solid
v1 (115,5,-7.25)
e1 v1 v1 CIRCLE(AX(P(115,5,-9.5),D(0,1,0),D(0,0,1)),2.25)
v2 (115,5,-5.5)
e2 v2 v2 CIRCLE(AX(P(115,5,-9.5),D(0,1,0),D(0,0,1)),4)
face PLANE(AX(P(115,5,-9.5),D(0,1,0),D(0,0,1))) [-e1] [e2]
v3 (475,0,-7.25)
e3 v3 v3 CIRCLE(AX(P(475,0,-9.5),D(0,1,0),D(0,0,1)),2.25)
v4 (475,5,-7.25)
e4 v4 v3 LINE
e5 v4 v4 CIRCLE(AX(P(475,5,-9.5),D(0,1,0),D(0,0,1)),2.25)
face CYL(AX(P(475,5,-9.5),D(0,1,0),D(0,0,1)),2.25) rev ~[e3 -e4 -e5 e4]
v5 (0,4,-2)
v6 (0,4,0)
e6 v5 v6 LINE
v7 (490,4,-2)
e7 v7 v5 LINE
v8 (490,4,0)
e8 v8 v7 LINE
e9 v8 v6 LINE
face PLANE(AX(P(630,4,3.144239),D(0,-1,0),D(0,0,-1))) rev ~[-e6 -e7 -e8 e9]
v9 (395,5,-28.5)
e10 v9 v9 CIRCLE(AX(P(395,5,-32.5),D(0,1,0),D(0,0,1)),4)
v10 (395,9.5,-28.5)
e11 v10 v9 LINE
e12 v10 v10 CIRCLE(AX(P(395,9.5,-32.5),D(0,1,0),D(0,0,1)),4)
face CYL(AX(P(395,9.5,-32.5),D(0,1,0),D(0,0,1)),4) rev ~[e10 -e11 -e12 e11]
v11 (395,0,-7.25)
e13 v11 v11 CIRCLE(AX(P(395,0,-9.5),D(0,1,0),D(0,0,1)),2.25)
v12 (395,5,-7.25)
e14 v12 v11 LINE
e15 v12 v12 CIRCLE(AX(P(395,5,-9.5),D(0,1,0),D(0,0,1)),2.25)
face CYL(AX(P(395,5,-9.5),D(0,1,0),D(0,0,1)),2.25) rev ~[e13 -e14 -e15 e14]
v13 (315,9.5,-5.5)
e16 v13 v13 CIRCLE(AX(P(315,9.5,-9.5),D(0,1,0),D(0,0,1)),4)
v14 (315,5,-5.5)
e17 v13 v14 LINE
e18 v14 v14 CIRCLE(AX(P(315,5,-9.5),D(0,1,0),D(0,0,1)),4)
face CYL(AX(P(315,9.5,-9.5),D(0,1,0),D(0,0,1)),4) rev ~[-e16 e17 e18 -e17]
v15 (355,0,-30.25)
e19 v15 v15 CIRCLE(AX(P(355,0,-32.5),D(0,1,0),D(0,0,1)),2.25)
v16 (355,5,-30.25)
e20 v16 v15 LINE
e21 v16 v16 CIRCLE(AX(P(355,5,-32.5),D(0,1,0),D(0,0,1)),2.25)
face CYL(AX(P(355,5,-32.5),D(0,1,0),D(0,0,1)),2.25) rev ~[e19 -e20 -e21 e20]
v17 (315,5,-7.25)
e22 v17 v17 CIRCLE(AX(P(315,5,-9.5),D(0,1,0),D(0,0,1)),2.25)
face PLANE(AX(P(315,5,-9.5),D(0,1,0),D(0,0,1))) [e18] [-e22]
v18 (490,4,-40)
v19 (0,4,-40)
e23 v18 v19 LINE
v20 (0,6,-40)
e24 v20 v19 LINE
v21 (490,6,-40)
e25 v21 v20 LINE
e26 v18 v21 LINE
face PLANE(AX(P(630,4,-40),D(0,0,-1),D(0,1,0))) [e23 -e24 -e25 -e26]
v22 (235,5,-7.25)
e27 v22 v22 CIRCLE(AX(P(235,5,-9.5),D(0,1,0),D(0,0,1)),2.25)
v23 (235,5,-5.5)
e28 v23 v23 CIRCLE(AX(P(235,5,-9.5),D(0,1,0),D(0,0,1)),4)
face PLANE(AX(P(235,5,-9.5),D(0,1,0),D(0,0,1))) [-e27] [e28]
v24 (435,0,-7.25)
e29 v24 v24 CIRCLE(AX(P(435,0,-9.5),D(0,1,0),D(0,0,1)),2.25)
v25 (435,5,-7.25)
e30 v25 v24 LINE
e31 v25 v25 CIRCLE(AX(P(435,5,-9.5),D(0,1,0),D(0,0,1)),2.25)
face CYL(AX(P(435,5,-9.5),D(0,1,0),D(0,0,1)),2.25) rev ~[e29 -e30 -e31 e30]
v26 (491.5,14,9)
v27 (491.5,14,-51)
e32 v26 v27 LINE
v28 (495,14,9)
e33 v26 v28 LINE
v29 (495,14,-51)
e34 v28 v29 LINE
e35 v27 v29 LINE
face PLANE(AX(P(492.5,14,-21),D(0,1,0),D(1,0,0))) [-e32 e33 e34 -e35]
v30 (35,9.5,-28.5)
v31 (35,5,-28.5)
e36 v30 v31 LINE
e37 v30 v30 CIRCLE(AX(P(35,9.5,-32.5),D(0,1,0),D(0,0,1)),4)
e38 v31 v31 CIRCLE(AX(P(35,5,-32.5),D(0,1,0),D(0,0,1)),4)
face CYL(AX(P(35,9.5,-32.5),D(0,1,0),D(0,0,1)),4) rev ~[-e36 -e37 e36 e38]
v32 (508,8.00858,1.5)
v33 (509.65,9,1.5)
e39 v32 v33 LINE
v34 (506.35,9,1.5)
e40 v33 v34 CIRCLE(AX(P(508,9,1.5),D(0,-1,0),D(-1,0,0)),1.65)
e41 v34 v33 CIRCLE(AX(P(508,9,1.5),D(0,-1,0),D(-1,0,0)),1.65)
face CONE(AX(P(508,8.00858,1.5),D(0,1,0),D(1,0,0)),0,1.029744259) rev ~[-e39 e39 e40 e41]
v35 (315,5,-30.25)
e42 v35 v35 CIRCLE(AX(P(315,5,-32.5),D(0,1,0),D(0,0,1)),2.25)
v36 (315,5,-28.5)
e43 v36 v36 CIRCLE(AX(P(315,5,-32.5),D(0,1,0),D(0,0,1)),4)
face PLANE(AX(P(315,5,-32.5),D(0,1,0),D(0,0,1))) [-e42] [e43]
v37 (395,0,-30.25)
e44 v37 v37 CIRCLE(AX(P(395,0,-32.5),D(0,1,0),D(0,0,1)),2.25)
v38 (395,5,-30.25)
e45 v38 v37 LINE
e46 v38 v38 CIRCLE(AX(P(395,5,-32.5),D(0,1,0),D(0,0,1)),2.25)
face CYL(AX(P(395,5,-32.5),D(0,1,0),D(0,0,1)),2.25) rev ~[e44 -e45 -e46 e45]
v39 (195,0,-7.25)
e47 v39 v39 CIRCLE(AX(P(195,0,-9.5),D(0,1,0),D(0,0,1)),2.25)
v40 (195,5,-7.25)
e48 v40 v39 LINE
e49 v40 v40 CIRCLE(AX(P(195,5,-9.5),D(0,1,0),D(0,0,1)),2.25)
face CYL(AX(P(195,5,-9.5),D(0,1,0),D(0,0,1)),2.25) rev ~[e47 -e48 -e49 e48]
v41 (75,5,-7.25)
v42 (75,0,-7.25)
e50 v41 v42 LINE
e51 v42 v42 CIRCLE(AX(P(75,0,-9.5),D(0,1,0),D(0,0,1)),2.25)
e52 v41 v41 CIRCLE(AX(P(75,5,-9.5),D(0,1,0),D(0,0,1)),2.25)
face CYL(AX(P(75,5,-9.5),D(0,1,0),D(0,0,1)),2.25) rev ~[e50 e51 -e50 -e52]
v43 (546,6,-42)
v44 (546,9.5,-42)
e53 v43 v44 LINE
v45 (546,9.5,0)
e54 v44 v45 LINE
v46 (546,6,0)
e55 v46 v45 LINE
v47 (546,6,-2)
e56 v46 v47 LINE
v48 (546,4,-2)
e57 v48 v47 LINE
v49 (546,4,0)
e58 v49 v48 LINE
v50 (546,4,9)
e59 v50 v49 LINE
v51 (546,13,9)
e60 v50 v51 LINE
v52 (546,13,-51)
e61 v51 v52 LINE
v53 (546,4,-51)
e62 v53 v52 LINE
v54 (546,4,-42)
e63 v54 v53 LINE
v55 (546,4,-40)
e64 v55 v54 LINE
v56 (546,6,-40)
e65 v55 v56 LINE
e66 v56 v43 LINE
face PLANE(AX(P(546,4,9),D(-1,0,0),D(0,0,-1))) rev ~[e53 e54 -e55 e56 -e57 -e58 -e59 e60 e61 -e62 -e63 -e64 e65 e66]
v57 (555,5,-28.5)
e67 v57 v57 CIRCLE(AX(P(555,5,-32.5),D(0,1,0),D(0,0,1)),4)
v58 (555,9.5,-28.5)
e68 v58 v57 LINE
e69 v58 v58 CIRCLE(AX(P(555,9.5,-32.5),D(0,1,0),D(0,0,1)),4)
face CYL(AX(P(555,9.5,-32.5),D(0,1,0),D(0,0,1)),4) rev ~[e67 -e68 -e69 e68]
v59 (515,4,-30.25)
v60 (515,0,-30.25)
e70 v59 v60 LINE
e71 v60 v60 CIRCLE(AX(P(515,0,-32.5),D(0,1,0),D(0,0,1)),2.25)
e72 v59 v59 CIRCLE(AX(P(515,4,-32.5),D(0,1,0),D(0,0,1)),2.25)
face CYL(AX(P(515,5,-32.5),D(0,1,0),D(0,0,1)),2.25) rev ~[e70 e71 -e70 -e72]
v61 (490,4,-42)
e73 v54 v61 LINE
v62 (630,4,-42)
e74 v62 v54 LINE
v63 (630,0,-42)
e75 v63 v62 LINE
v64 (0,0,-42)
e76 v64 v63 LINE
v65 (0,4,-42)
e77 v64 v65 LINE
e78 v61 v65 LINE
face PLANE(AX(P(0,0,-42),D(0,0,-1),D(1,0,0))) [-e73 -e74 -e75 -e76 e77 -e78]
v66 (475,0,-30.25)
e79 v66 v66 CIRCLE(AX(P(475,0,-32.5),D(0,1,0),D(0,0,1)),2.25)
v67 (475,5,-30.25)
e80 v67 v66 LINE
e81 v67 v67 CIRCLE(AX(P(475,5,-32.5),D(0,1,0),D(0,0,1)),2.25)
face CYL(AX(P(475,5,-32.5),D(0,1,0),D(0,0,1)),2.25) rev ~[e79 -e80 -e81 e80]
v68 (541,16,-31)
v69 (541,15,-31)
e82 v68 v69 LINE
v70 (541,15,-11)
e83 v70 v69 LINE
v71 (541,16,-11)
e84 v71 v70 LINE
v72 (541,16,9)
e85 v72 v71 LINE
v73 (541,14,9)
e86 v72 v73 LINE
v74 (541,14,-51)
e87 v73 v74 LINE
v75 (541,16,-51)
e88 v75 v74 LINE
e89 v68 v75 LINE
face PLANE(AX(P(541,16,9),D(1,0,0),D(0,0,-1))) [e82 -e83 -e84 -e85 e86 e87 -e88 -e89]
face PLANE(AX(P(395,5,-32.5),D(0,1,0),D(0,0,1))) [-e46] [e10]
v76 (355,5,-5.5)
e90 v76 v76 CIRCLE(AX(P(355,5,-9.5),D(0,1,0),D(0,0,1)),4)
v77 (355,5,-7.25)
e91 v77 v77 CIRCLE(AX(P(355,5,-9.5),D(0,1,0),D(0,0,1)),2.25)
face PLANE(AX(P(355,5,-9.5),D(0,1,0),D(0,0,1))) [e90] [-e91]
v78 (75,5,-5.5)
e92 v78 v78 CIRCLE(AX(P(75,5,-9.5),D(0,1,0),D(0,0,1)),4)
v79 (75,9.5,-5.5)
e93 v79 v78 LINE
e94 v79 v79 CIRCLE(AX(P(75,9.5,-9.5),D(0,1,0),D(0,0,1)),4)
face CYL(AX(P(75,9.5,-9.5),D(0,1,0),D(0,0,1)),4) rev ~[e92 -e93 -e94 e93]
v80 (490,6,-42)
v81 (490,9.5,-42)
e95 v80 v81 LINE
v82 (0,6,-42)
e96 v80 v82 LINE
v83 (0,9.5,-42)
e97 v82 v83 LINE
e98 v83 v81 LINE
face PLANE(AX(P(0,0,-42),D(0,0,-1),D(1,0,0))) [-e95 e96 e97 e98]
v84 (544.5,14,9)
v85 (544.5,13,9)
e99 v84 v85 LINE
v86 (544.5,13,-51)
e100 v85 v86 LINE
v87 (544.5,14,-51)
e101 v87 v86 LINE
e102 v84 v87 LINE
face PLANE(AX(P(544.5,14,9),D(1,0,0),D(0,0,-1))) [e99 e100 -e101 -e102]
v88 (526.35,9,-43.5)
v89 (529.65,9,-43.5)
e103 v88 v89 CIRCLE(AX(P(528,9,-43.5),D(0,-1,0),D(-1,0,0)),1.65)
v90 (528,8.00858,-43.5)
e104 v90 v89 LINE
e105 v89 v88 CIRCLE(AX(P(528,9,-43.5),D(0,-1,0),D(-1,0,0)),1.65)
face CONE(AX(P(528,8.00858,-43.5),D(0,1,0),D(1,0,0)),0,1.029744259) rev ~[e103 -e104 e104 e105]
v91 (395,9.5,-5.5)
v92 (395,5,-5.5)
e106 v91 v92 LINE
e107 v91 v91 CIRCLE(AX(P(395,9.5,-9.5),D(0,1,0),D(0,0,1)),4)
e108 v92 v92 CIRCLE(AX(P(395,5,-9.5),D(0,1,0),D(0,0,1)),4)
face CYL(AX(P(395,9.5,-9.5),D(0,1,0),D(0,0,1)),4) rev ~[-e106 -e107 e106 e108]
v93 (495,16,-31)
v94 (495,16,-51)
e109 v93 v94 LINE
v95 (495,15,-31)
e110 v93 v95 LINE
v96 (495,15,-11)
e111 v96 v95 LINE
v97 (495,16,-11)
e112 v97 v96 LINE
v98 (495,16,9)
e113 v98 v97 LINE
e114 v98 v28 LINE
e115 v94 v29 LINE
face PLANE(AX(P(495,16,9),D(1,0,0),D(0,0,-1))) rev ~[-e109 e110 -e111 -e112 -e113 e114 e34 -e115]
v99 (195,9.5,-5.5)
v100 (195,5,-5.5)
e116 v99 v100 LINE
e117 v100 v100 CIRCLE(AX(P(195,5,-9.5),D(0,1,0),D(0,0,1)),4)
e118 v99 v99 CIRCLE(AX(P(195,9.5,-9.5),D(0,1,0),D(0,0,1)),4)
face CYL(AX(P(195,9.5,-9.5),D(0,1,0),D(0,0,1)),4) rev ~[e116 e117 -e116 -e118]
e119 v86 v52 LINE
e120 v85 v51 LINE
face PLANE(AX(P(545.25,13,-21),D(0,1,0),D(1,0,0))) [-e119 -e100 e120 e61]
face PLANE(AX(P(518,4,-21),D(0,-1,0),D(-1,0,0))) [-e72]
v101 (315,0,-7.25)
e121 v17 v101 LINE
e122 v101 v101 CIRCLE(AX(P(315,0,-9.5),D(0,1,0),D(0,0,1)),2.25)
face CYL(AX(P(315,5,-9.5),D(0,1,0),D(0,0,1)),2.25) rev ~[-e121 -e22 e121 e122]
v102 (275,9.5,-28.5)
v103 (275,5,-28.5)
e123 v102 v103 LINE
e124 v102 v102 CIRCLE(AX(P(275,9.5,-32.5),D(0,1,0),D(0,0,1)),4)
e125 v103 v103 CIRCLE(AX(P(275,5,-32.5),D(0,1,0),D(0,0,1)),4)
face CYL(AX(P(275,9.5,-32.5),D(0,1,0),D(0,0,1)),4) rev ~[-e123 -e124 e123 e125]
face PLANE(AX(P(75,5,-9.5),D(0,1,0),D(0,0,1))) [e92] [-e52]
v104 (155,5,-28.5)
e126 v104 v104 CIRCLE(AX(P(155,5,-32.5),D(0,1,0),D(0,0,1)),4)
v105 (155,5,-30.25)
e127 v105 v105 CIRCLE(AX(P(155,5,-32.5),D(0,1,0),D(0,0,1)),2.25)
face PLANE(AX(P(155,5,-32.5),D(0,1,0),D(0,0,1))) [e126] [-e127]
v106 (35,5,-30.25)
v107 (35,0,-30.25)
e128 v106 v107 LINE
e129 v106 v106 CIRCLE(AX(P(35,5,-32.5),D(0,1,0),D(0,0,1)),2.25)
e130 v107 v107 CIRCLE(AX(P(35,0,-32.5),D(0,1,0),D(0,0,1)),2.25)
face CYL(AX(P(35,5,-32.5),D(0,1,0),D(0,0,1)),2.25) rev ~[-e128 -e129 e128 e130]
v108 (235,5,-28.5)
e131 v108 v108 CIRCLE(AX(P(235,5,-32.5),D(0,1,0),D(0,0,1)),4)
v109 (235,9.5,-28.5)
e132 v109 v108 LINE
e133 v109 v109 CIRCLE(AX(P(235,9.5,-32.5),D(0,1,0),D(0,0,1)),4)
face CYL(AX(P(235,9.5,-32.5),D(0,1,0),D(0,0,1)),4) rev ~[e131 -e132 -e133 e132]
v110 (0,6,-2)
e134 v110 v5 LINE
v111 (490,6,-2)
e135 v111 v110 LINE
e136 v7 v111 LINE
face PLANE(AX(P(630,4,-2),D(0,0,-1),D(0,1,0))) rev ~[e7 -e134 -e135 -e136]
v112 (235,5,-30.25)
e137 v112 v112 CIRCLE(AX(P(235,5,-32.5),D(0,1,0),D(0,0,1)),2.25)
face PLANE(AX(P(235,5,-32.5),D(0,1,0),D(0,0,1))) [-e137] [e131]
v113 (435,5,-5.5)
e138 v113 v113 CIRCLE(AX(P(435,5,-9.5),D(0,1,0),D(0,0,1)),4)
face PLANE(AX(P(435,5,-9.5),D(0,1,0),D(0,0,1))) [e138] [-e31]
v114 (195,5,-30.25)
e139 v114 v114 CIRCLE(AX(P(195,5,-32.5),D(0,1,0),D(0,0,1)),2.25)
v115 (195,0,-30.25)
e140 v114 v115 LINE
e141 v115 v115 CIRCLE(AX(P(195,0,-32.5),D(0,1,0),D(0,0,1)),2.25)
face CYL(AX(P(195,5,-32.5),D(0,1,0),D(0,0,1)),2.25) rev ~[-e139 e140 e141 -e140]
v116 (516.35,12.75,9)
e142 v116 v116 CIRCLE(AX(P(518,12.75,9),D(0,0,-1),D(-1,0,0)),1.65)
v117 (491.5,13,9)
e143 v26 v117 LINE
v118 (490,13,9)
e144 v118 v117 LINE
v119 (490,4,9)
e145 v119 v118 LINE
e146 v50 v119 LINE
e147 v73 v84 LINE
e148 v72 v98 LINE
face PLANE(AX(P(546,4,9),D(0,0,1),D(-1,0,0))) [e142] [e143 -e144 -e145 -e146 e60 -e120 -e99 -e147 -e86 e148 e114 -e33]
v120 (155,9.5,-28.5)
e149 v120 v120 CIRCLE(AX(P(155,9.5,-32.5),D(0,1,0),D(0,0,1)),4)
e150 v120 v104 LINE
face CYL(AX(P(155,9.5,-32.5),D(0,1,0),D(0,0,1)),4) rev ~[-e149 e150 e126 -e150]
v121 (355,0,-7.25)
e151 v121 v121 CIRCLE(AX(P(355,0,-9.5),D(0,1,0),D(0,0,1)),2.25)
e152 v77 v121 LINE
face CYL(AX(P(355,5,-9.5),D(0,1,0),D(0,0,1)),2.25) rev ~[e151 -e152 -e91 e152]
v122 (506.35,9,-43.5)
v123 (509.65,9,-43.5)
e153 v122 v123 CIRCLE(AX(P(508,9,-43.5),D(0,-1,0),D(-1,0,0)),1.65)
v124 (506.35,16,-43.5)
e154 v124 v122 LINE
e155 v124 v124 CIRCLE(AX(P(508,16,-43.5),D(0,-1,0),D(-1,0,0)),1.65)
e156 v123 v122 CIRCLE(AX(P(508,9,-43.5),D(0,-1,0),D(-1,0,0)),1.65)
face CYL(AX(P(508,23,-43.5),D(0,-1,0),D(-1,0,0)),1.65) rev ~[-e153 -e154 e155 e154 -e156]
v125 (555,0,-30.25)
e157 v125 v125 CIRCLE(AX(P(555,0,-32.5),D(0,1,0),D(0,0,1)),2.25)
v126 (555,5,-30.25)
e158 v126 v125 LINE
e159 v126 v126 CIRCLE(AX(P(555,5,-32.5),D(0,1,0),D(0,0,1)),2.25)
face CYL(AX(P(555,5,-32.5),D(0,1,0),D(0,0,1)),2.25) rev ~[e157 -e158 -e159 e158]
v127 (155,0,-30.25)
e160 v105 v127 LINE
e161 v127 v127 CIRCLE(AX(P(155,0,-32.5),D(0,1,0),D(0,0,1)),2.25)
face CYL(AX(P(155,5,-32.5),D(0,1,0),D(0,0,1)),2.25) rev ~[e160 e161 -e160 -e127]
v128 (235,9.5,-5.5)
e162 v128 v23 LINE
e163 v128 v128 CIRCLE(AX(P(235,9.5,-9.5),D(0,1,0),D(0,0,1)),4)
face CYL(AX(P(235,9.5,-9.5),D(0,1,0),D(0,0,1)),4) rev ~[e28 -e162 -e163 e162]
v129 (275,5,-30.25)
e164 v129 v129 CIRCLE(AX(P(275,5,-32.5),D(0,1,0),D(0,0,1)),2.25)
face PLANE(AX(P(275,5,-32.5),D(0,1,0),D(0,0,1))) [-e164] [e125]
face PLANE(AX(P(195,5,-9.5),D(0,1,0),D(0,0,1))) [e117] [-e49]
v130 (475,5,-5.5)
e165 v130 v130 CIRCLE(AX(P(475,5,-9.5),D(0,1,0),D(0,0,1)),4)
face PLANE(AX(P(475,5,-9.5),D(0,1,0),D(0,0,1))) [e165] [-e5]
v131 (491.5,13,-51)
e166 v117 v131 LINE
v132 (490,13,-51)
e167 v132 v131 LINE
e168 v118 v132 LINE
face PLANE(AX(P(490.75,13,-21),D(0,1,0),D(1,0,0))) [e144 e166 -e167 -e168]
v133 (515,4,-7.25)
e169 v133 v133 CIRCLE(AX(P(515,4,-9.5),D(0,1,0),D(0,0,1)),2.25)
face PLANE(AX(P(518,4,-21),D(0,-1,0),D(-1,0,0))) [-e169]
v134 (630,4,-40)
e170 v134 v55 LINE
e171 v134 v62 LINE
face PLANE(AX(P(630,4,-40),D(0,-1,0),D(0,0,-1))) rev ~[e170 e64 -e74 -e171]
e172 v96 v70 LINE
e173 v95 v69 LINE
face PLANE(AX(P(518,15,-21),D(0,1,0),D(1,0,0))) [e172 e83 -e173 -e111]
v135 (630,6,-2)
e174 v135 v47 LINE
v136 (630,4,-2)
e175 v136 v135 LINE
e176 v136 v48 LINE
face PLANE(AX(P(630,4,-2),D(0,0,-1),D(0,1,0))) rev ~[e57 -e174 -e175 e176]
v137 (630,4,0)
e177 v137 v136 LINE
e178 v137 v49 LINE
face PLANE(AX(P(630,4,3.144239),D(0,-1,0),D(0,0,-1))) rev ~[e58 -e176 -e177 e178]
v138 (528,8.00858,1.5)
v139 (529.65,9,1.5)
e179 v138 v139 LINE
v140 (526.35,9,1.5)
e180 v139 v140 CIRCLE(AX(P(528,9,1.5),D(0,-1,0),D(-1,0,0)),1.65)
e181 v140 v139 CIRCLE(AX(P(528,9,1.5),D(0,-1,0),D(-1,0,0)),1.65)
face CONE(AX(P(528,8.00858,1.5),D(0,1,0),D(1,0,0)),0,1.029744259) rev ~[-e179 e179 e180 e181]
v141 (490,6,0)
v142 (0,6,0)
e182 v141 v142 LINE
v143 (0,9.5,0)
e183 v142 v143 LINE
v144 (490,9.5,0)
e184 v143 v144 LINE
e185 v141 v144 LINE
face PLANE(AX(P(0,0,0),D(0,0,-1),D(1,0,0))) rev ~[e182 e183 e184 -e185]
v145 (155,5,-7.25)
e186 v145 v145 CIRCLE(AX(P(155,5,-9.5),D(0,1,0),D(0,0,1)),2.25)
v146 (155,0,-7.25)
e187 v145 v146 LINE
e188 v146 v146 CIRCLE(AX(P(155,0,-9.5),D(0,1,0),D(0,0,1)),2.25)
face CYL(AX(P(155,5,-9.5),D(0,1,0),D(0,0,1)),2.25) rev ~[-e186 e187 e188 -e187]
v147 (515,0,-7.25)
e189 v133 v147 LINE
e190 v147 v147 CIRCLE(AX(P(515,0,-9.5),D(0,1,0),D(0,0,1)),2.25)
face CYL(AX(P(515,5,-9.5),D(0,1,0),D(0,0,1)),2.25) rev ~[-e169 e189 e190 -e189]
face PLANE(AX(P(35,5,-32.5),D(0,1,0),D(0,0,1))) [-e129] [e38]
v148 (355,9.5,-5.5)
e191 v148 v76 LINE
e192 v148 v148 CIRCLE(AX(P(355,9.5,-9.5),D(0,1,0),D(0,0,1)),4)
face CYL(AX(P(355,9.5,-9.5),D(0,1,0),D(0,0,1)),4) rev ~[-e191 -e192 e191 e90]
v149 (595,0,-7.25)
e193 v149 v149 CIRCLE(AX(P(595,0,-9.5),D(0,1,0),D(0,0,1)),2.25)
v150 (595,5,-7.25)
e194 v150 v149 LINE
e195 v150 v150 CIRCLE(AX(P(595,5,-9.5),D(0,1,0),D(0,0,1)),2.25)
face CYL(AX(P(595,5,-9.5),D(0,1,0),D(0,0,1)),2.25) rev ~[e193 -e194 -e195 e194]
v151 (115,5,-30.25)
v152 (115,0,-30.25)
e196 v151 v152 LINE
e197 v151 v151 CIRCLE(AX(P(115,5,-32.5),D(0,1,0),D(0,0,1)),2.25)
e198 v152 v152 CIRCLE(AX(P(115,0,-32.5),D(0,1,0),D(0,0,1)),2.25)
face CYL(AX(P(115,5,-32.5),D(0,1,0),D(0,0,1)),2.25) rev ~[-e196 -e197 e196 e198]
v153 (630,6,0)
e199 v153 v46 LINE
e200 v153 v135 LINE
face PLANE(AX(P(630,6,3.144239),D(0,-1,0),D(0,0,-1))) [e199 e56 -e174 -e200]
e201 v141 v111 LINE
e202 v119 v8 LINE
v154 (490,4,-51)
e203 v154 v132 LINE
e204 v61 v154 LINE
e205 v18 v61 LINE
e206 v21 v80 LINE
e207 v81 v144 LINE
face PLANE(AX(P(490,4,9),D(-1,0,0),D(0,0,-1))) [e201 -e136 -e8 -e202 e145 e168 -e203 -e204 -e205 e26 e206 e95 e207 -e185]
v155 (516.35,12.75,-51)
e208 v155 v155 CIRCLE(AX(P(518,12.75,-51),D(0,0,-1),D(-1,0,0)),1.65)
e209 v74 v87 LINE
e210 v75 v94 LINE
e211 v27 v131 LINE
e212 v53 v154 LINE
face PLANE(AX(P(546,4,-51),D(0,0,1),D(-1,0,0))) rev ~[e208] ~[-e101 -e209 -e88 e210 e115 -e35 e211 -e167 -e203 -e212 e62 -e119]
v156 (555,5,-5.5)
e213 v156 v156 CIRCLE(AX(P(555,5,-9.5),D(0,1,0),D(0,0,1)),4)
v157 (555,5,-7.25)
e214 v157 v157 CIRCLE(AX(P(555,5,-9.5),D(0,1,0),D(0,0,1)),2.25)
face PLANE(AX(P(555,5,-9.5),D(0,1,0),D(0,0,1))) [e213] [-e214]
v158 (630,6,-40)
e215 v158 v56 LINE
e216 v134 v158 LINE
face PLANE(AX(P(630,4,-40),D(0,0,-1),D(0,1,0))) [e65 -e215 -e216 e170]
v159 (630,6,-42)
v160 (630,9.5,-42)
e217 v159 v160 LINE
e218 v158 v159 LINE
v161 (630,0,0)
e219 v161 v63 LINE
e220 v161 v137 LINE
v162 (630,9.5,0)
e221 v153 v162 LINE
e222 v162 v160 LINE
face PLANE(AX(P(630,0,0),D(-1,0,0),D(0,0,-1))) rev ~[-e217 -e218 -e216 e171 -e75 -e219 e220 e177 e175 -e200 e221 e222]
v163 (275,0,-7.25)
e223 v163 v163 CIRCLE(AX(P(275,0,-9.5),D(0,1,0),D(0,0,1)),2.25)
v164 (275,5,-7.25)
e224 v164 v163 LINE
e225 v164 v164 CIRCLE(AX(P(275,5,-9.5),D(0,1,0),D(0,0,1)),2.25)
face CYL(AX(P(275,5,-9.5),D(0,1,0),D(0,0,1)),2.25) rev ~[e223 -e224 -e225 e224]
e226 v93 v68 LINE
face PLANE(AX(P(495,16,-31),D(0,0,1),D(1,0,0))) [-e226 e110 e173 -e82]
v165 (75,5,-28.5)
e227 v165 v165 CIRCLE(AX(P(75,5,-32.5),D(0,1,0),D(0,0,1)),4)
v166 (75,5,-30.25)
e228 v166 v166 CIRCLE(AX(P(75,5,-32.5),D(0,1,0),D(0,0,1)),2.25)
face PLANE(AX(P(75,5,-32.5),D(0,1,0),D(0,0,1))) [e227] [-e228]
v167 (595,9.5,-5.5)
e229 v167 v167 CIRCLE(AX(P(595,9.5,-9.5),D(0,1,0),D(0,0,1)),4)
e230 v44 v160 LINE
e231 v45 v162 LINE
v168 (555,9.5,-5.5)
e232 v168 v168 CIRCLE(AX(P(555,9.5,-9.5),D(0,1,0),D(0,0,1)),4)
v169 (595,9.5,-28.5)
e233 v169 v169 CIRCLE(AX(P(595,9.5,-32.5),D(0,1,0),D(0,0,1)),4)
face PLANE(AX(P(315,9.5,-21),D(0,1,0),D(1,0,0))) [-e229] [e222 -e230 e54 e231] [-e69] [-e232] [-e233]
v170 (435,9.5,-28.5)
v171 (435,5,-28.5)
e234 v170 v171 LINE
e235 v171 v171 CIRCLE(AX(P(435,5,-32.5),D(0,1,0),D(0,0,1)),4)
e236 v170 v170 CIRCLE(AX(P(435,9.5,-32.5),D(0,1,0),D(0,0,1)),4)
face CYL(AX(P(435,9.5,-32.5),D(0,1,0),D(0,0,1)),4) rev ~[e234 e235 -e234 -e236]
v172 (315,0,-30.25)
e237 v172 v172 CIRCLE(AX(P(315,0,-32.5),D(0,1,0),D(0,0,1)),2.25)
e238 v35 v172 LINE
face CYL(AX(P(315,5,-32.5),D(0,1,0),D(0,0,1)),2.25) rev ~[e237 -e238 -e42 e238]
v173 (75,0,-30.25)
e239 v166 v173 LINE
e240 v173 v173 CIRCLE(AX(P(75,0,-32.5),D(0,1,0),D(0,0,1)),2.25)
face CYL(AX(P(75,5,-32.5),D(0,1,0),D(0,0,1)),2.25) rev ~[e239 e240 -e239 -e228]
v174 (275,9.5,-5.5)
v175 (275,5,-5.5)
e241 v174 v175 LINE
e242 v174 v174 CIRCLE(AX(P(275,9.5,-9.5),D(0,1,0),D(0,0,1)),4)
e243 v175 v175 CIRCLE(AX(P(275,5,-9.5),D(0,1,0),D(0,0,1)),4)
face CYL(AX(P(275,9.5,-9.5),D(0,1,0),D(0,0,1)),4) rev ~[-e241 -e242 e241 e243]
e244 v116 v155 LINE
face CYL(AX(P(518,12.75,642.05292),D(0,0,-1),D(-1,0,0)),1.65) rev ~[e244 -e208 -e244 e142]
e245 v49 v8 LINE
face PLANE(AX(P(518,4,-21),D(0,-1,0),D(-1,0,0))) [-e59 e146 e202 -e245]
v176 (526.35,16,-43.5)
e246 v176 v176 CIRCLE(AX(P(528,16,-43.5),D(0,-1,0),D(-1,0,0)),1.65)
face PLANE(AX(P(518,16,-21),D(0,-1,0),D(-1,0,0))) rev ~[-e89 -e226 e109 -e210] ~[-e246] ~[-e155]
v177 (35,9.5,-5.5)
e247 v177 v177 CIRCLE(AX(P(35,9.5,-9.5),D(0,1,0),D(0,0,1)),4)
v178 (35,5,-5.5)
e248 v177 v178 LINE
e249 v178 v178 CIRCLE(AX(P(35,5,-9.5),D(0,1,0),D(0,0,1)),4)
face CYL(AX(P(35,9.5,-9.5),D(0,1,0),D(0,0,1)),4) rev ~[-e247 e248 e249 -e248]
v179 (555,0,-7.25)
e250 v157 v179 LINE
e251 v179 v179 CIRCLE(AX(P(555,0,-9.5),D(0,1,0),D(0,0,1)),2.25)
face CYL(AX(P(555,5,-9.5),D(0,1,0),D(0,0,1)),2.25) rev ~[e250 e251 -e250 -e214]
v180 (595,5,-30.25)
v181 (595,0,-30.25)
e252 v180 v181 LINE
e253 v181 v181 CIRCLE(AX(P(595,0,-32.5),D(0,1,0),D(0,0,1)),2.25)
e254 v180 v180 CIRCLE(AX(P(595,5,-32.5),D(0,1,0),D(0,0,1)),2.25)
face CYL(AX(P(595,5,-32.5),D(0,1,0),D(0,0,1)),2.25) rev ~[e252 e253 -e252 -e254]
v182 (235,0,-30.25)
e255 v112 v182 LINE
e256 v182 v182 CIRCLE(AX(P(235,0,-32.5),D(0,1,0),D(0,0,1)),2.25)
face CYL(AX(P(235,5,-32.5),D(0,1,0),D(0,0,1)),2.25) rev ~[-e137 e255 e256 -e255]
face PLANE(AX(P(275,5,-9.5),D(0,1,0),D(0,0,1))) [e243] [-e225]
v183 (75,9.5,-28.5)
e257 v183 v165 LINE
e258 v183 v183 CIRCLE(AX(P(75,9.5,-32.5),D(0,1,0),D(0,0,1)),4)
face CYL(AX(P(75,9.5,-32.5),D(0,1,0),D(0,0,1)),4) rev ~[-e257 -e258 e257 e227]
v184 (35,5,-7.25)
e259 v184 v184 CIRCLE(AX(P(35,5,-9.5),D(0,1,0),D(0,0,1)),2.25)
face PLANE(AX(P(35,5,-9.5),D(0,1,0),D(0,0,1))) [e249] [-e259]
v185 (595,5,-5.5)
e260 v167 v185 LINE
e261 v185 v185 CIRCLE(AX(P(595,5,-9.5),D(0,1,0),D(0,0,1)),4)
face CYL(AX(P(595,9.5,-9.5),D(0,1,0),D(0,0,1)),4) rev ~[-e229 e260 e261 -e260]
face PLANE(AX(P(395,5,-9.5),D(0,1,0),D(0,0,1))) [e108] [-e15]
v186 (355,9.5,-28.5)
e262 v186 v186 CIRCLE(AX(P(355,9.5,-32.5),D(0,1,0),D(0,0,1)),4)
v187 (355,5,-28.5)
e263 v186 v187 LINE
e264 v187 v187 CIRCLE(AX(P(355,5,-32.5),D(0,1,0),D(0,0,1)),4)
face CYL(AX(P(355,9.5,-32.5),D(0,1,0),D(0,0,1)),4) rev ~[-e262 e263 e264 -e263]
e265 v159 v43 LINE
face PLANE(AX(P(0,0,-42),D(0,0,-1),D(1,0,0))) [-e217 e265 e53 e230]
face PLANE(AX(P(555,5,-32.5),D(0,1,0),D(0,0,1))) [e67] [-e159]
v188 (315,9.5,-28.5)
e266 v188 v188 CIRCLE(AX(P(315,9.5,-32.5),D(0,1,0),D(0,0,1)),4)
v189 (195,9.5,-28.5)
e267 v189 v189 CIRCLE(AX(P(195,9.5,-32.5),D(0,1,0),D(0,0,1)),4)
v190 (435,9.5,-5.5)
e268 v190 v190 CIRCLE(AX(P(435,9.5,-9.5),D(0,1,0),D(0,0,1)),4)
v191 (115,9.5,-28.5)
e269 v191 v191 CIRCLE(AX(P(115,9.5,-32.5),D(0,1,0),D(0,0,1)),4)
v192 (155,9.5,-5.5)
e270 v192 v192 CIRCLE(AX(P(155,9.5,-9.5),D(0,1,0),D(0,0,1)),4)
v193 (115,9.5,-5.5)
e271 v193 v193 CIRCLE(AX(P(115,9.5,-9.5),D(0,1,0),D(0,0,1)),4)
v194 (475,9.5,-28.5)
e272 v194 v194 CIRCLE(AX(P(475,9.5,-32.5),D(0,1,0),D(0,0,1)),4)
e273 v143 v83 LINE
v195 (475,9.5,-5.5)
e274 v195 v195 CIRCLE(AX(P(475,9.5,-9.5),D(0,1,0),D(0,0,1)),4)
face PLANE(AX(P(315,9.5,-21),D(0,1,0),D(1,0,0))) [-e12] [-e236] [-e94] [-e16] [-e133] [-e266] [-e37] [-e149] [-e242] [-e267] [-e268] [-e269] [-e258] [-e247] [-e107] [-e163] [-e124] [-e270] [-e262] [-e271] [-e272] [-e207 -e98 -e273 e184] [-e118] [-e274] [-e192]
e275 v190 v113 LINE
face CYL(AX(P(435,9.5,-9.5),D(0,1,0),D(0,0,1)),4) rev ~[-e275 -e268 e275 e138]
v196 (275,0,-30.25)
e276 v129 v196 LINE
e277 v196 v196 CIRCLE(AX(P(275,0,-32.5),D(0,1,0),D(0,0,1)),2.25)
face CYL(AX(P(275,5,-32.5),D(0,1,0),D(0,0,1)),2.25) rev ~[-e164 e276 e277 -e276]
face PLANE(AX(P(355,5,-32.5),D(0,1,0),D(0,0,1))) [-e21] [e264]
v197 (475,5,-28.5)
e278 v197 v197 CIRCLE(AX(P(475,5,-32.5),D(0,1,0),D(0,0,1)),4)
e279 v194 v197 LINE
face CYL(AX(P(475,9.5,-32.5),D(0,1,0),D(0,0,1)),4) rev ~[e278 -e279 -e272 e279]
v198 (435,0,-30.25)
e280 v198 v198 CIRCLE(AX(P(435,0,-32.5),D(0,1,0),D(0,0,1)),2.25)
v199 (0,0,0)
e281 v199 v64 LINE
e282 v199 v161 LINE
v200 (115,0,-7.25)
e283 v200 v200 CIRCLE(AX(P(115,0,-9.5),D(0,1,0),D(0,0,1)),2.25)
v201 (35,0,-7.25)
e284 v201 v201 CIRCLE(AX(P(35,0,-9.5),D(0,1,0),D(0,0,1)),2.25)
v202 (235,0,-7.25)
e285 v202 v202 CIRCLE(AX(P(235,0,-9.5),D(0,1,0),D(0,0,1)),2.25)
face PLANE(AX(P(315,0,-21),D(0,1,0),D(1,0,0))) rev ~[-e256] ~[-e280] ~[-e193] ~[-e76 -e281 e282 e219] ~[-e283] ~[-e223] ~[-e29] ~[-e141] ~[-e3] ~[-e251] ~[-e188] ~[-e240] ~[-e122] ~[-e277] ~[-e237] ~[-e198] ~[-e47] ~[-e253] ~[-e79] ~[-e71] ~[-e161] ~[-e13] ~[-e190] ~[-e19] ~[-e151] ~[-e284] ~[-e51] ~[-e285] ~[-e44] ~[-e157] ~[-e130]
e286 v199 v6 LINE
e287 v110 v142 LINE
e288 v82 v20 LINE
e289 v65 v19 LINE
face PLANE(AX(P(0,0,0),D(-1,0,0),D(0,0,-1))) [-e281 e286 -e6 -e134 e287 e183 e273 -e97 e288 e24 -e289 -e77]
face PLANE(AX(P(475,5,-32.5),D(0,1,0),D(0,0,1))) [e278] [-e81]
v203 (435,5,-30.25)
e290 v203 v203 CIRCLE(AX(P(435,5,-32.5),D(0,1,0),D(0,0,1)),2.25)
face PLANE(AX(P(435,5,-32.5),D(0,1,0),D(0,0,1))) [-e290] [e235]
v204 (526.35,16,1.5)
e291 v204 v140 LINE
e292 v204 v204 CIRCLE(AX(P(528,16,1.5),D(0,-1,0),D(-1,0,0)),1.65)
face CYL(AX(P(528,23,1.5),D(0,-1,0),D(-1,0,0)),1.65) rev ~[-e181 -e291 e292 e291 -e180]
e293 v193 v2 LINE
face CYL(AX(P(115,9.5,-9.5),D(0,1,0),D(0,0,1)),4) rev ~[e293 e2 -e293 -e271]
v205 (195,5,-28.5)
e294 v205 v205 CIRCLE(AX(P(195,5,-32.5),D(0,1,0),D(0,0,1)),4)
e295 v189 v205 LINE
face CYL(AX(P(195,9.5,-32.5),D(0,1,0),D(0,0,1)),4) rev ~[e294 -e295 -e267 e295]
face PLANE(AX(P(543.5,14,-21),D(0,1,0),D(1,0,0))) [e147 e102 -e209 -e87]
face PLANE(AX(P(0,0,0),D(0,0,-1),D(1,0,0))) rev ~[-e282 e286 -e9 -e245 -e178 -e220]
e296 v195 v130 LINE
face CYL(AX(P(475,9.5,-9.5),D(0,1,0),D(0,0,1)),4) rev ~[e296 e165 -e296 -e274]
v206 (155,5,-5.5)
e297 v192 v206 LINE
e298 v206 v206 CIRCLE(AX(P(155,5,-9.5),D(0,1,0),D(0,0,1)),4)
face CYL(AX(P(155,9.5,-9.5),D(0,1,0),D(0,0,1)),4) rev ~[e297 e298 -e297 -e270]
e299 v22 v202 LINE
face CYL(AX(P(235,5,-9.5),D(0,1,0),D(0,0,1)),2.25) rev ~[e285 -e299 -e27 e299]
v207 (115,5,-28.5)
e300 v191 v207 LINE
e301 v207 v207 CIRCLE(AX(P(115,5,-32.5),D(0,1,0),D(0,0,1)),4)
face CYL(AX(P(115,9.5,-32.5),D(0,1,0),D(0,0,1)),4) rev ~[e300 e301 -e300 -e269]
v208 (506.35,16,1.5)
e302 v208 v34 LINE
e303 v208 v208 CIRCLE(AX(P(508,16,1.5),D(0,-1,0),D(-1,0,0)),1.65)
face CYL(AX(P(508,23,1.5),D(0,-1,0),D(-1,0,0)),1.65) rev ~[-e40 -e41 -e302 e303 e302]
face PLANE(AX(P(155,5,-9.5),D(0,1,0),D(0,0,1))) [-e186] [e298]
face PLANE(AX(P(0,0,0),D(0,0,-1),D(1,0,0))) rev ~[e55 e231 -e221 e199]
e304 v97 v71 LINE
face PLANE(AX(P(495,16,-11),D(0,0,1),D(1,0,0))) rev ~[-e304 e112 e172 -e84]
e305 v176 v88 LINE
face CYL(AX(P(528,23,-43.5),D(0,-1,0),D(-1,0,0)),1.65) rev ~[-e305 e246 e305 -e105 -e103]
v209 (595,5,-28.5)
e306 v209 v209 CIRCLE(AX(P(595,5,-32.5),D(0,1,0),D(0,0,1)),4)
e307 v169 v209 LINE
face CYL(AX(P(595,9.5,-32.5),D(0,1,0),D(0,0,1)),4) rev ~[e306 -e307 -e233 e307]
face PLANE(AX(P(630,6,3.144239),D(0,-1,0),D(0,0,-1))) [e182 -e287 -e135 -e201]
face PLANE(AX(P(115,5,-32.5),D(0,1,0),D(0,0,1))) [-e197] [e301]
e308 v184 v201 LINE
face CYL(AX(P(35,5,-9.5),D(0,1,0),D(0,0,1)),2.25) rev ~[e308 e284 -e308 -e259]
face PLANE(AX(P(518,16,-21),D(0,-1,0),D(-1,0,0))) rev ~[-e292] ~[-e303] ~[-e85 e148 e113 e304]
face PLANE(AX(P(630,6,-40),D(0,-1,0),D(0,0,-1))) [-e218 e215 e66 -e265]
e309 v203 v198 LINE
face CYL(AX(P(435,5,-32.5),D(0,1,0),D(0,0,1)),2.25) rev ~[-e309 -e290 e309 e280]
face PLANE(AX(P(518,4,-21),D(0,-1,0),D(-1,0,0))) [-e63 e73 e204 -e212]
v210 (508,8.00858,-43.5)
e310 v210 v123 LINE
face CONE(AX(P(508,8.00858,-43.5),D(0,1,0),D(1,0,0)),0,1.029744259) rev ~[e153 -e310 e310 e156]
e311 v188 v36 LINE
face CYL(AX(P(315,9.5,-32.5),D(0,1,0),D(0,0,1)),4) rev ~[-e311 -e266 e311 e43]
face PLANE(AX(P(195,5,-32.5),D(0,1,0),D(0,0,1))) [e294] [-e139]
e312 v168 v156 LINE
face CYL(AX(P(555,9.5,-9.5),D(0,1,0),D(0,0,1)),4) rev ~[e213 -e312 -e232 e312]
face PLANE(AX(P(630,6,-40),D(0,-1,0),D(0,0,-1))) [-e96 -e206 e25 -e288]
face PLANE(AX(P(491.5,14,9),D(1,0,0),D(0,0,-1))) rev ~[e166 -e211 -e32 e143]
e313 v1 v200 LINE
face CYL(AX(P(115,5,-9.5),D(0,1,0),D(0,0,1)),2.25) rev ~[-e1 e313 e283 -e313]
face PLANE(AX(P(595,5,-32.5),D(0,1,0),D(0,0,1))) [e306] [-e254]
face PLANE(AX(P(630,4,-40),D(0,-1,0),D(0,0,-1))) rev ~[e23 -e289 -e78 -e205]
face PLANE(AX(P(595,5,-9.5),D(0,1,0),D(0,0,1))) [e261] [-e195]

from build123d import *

# Parameters (mm, degrees)
SKETCH_1_W             = 630
SKETCH_1_H             = 42
EXTRUDE_1_DEPTH        = 9.5
SKETCH_2_R             = 4
CUT_EXTRUDE_1_DEPTH    = 4.5
SKETCH_3_R             = 2.25
CUT_EXTRUDE_2_DEPTH    = 632.418244906
SKETCH_16_W            = 5.144238896
SKETCH_16_H            = 2
SKETCH_16_W_2          = 7.201213672
CUT_EXTRUDE_6_DEPTH    = 632.469912189
SKETCH_6_W             = 56
SKETCH_6_H             = 60
EXTRUDE_2_DEPTH        = 12
HOLE_WIZARD_M4_1_D     = 3.3
HOLE_WIZARD_M4_1_DEPTH = 7
HOLE_WIZARD_M4_1_TIP   = 0.991420021
SKETCH_9_W             = 5
SKETCH_9_H             = 60
CUT_EXTRUDE_3_DEPTH    = 2
SKETCH_10_W            = 46
SKETCH_10_H            = 20
CUT_EXTRUDE_4_DEPTH    = 1
SKETCH_11_W            = 1.5
SKETCH_11_H            = 60
CUT_EXTRUDE_5_DEPTH    = 1
HOLE_WIZARD_M4_2_D     = 3.3


with BuildPart() as part:
    # 스케치1 → 보스-돌출1 (new body)
    with BuildSketch(Plane(origin=(0, 0, 0), x_dir=(1, 0, 0), z_dir=(0, 1, 0))):
        with Locations((315, 21)):
            Rectangle(SKETCH_1_W, SKETCH_1_H)
    extrude(amount=EXTRUDE_1_DEPTH)

    # 스케치2 → 컷-돌출1 (cut)
    with BuildSketch(Plane(origin=(0, 9.5, 0), x_dir=(1, 0, 0), z_dir=(0, 1, 0))):
        with Locations(Location((35, 32.5, 0), (0, 0, 270))):
            Circle(SKETCH_2_R)
        with Locations(Location((35, 9.5, 0), (0, 0, 270))):
            Circle(SKETCH_2_R)
        with Locations(Location((75, 32.5, 0), (0, 0, 270))):
            Circle(SKETCH_2_R)
        with Locations(Location((75, 9.5, 0), (0, 0, 270))):
            Circle(SKETCH_2_R)
        with Locations(Location((115, 32.5, 0), (0, 0, 270))):
            Circle(SKETCH_2_R)
        with Locations(Location((115, 9.5, 0), (0, 0, 270))):
            Circle(SKETCH_2_R)
        with Locations(Location((155, 32.5, 0), (0, 0, 270))):
            Circle(SKETCH_2_R)
        with Locations(Location((155, 9.5, 0), (0, 0, 270))):
            Circle(SKETCH_2_R)
        with Locations(Location((195, 32.5, 0), (0, 0, 270))):
            Circle(SKETCH_2_R)
        with Locations(Location((195, 9.5, 0), (0, 0, 270))):
            Circle(SKETCH_2_R)
        with Locations(Location((235, 32.5, 0), (0, 0, 270))):
            Circle(SKETCH_2_R)
        with Locations(Location((235, 9.5, 0), (0, 0, 270))):
            Circle(SKETCH_2_R)
        with Locations(Location((275, 32.5, 0), (0, 0, 270))):
            Circle(SKETCH_2_R)
        with Locations(Location((275, 9.5, 0), (0, 0, 270))):
            Circle(SKETCH_2_R)
        with Locations(Location((315, 32.5, 0), (0, 0, 270))):
            Circle(SKETCH_2_R)
        with Locations(Location((315, 9.5, 0), (0, 0, 270))):
            Circle(SKETCH_2_R)
        with Locations(Location((355, 32.5, 0), (0, 0, 270))):
            Circle(SKETCH_2_R)
        with Locations(Location((355, 9.5, 0), (0, 0, 270))):
            Circle(SKETCH_2_R)
        with Locations(Location((395, 32.5, 0), (0, 0, 270))):
            Circle(SKETCH_2_R)
        with Locations(Location((395, 9.5, 0), (0, 0, 270))):
            Circle(SKETCH_2_R)
        with Locations(Location((435, 32.5, 0), (0, 0, 270))):
            Circle(SKETCH_2_R)
        with Locations(Location((435, 9.5, 0), (0, 0, 270))):
            Circle(SKETCH_2_R)
        with Locations(Location((475, 32.5, 0), (0, 0, 270))):
            Circle(SKETCH_2_R)
        with Locations(Location((475, 9.5, 0), (0, 0, 270))):
            Circle(SKETCH_2_R)
        with Locations(Location((515, 32.5, 0), (0, 0, 270))):
            Circle(SKETCH_2_R)
        with Locations(Location((515, 9.5, 0), (0, 0, 270))):
            Circle(SKETCH_2_R)
        with Locations(Location((555, 32.5, 0), (0, 0, 270))):
            Circle(SKETCH_2_R)
        with Locations(Location((555, 9.5, 0), (0, 0, 270))):
            Circle(SKETCH_2_R)
        with Locations(Location((595, 32.5, 0), (0, 0, 270))):
            Circle(SKETCH_2_R)
        with Locations(Location((595, 9.5, 0), (0, 0, 270))):
            Circle(SKETCH_2_R)
    extrude(amount=-CUT_EXTRUDE_1_DEPTH, mode=Mode.SUBTRACT)

    # 스케치3 → 컷-돌출2 (cut, through all)
    with BuildSketch(Plane(origin=(0, 5, 0), x_dir=(1, 0, 0), z_dir=(0, 1, 0))):
        with Locations(Location((35, 32.5, 0), (0, 0, 270))):
            Circle(SKETCH_3_R)
        with Locations(Location((35, 9.5, 0), (0, 0, 270))):
            Circle(SKETCH_3_R)
        with Locations(Location((75, 32.5, 0), (0, 0, 270))):
            Circle(SKETCH_3_R)
        with Locations(Location((75, 9.5, 0), (0, 0, 270))):
            Circle(SKETCH_3_R)
        with Locations(Location((115, 32.5, 0), (0, 0, 270))):
            Circle(SKETCH_3_R)
        with Locations(Location((115, 9.5, 0), (0, 0, 270))):
            Circle(SKETCH_3_R)
        with Locations(Location((155, 32.5, 0), (0, 0, 270))):
            Circle(SKETCH_3_R)
        with Locations(Location((155, 9.5, 0), (0, 0, 270))):
            Circle(SKETCH_3_R)
        with Locations(Location((195, 32.5, 0), (0, 0, 270))):
            Circle(SKETCH_3_R)
        with Locations(Location((195, 9.5, 0), (0, 0, 270))):
            Circle(SKETCH_3_R)
        with Locations(Location((235, 32.5, 0), (0, 0, 270))):
            Circle(SKETCH_3_R)
        with Locations(Location((235, 9.5, 0), (0, 0, 270))):
            Circle(SKETCH_3_R)
        with Locations(Location((275, 32.5, 0), (0, 0, 270))):
            Circle(SKETCH_3_R)
        with Locations(Location((275, 9.5, 0), (0, 0, 270))):
            Circle(SKETCH_3_R)
        with Locations(Location((315, 32.5, 0), (0, 0, 270))):
            Circle(SKETCH_3_R)
        with Locations(Location((315, 9.5, 0), (0, 0, 270))):
            Circle(SKETCH_3_R)
        with Locations(Location((355, 32.5, 0), (0, 0, 270))):
            Circle(SKETCH_3_R)
        with Locations(Location((355, 9.5, 0), (0, 0, 270))):
            Circle(SKETCH_3_R)
        with Locations(Location((395, 32.5, 0), (0, 0, 270))):
            Circle(SKETCH_3_R)
        with Locations(Location((395, 9.5, 0), (0, 0, 270))):
            Circle(SKETCH_3_R)
        with Locations(Location((435, 32.5, 0), (0, 0, 270))):
            Circle(SKETCH_3_R)
        with Locations(Location((435, 9.5, 0), (0, 0, 270))):
            Circle(SKETCH_3_R)
        with Locations(Location((475, 32.5, 0), (0, 0, 270))):
            Circle(SKETCH_3_R)
        with Locations(Location((475, 9.5, 0), (0, 0, 270))):
            Circle(SKETCH_3_R)
        with Locations(Location((515, 32.5, 0), (0, 0, 270))):
            Circle(SKETCH_3_R)
        with Locations(Location((515, 9.5, 0), (0, 0, 270))):
            Circle(SKETCH_3_R)
        with Locations(Location((555, 32.5, 0), (0, 0, 270))):
            Circle(SKETCH_3_R)
        with Locations(Location((555, 9.5, 0), (0, 0, 270))):
            Circle(SKETCH_3_R)
        with Locations(Location((595, 32.5, 0), (0, 0, 270))):
            Circle(SKETCH_3_R)
        with Locations(Location((595, 9.5, 0), (0, 0, 270))):
            Circle(SKETCH_3_R)
    extrude(amount=-CUT_EXTRUDE_2_DEPTH, mode=Mode.SUBTRACT)

    # 스케치16 → 컷-돌출6 (cut, through all)
    with BuildSketch(Plane(origin=(630, 0, 0), x_dir=(0, 0, -1), z_dir=(1, 0, 0))):
        with Locations((-0.572119448, 5)):
            Rectangle(SKETCH_16_W, SKETCH_16_H)
        with Locations((43.600606836, 5)):
            Rectangle(SKETCH_16_W_2, SKETCH_16_H)
    extrude(amount=-CUT_EXTRUDE_6_DEPTH, mode=Mode.SUBTRACT)

    # 스케치6 → 보스-돌출2 (add)
    with BuildSketch(Plane(origin=(0, 4, 0), x_dir=(-1, 0, 0), z_dir=(0, -1, 0))):
        with Locations((-518, 21)):
            Rectangle(SKETCH_6_W, SKETCH_6_H)
    extrude(amount=-EXTRUDE_2_DEPTH)

    # M4 나사 구멍1
    with Locations(Plane(origin=(0, 16, 0), x_dir=(1, 0, 0), z_dir=(0, 1, 0))):
        with Locations((508, 43.5), (528, 43.5), (508, -1.5), (528, -1.5)):
            Hole(HOLE_WIZARD_M4_1_D / 2, depth=HOLE_WIZARD_M4_1_DEPTH)
            with Locations((0, 0, -(HOLE_WIZARD_M4_1_DEPTH + HOLE_WIZARD_M4_1_TIP / 2))):  # 118° drill point
                Cone(0, HOLE_WIZARD_M4_1_D / 2, HOLE_WIZARD_M4_1_TIP, mode=Mode.SUBTRACT)

    # 스케치9 → 컷-돌출3 (cut)
    with BuildSketch(Plane(origin=(0, 16, 0), x_dir=(1, 0, 0), z_dir=(0, 1, 0))):
        with Locations((492.5, 21)):
            Rectangle(SKETCH_9_W, SKETCH_9_H)
        with Locations((543.5, 21)):
            Rectangle(SKETCH_9_W, SKETCH_9_H)
    extrude(amount=-CUT_EXTRUDE_3_DEPTH, mode=Mode.SUBTRACT)

    # 스케치10 → 컷-돌출4 (cut)
    with BuildSketch(Plane(origin=(0, 16, 0), x_dir=(1, 0, 0), z_dir=(0, 1, 0))):
        with Locations((518, 21)):
            Rectangle(SKETCH_10_W, SKETCH_10_H)
    extrude(amount=-CUT_EXTRUDE_4_DEPTH, mode=Mode.SUBTRACT)

    # 스케치11 → 컷-돌출5 (cut)
    with BuildSketch(Plane(origin=(0, 14, 0), x_dir=(1, 0, 0), z_dir=(0, 1, 0))):
        with Locations((545.25, 21)):
            Rectangle(SKETCH_11_W, SKETCH_11_H)
        with Locations((490.75, 21)):
            Rectangle(SKETCH_11_W, SKETCH_11_H)
    extrude(amount=-CUT_EXTRUDE_5_DEPTH, mode=Mode.SUBTRACT)

    # M4 나사 구멍2 (through all)
    with Locations(Plane.XY.offset(9)):
        with Locations((518, 12.75)):
            Hole(HOLE_WIZARD_M4_2_D / 2)


solid = part.part
